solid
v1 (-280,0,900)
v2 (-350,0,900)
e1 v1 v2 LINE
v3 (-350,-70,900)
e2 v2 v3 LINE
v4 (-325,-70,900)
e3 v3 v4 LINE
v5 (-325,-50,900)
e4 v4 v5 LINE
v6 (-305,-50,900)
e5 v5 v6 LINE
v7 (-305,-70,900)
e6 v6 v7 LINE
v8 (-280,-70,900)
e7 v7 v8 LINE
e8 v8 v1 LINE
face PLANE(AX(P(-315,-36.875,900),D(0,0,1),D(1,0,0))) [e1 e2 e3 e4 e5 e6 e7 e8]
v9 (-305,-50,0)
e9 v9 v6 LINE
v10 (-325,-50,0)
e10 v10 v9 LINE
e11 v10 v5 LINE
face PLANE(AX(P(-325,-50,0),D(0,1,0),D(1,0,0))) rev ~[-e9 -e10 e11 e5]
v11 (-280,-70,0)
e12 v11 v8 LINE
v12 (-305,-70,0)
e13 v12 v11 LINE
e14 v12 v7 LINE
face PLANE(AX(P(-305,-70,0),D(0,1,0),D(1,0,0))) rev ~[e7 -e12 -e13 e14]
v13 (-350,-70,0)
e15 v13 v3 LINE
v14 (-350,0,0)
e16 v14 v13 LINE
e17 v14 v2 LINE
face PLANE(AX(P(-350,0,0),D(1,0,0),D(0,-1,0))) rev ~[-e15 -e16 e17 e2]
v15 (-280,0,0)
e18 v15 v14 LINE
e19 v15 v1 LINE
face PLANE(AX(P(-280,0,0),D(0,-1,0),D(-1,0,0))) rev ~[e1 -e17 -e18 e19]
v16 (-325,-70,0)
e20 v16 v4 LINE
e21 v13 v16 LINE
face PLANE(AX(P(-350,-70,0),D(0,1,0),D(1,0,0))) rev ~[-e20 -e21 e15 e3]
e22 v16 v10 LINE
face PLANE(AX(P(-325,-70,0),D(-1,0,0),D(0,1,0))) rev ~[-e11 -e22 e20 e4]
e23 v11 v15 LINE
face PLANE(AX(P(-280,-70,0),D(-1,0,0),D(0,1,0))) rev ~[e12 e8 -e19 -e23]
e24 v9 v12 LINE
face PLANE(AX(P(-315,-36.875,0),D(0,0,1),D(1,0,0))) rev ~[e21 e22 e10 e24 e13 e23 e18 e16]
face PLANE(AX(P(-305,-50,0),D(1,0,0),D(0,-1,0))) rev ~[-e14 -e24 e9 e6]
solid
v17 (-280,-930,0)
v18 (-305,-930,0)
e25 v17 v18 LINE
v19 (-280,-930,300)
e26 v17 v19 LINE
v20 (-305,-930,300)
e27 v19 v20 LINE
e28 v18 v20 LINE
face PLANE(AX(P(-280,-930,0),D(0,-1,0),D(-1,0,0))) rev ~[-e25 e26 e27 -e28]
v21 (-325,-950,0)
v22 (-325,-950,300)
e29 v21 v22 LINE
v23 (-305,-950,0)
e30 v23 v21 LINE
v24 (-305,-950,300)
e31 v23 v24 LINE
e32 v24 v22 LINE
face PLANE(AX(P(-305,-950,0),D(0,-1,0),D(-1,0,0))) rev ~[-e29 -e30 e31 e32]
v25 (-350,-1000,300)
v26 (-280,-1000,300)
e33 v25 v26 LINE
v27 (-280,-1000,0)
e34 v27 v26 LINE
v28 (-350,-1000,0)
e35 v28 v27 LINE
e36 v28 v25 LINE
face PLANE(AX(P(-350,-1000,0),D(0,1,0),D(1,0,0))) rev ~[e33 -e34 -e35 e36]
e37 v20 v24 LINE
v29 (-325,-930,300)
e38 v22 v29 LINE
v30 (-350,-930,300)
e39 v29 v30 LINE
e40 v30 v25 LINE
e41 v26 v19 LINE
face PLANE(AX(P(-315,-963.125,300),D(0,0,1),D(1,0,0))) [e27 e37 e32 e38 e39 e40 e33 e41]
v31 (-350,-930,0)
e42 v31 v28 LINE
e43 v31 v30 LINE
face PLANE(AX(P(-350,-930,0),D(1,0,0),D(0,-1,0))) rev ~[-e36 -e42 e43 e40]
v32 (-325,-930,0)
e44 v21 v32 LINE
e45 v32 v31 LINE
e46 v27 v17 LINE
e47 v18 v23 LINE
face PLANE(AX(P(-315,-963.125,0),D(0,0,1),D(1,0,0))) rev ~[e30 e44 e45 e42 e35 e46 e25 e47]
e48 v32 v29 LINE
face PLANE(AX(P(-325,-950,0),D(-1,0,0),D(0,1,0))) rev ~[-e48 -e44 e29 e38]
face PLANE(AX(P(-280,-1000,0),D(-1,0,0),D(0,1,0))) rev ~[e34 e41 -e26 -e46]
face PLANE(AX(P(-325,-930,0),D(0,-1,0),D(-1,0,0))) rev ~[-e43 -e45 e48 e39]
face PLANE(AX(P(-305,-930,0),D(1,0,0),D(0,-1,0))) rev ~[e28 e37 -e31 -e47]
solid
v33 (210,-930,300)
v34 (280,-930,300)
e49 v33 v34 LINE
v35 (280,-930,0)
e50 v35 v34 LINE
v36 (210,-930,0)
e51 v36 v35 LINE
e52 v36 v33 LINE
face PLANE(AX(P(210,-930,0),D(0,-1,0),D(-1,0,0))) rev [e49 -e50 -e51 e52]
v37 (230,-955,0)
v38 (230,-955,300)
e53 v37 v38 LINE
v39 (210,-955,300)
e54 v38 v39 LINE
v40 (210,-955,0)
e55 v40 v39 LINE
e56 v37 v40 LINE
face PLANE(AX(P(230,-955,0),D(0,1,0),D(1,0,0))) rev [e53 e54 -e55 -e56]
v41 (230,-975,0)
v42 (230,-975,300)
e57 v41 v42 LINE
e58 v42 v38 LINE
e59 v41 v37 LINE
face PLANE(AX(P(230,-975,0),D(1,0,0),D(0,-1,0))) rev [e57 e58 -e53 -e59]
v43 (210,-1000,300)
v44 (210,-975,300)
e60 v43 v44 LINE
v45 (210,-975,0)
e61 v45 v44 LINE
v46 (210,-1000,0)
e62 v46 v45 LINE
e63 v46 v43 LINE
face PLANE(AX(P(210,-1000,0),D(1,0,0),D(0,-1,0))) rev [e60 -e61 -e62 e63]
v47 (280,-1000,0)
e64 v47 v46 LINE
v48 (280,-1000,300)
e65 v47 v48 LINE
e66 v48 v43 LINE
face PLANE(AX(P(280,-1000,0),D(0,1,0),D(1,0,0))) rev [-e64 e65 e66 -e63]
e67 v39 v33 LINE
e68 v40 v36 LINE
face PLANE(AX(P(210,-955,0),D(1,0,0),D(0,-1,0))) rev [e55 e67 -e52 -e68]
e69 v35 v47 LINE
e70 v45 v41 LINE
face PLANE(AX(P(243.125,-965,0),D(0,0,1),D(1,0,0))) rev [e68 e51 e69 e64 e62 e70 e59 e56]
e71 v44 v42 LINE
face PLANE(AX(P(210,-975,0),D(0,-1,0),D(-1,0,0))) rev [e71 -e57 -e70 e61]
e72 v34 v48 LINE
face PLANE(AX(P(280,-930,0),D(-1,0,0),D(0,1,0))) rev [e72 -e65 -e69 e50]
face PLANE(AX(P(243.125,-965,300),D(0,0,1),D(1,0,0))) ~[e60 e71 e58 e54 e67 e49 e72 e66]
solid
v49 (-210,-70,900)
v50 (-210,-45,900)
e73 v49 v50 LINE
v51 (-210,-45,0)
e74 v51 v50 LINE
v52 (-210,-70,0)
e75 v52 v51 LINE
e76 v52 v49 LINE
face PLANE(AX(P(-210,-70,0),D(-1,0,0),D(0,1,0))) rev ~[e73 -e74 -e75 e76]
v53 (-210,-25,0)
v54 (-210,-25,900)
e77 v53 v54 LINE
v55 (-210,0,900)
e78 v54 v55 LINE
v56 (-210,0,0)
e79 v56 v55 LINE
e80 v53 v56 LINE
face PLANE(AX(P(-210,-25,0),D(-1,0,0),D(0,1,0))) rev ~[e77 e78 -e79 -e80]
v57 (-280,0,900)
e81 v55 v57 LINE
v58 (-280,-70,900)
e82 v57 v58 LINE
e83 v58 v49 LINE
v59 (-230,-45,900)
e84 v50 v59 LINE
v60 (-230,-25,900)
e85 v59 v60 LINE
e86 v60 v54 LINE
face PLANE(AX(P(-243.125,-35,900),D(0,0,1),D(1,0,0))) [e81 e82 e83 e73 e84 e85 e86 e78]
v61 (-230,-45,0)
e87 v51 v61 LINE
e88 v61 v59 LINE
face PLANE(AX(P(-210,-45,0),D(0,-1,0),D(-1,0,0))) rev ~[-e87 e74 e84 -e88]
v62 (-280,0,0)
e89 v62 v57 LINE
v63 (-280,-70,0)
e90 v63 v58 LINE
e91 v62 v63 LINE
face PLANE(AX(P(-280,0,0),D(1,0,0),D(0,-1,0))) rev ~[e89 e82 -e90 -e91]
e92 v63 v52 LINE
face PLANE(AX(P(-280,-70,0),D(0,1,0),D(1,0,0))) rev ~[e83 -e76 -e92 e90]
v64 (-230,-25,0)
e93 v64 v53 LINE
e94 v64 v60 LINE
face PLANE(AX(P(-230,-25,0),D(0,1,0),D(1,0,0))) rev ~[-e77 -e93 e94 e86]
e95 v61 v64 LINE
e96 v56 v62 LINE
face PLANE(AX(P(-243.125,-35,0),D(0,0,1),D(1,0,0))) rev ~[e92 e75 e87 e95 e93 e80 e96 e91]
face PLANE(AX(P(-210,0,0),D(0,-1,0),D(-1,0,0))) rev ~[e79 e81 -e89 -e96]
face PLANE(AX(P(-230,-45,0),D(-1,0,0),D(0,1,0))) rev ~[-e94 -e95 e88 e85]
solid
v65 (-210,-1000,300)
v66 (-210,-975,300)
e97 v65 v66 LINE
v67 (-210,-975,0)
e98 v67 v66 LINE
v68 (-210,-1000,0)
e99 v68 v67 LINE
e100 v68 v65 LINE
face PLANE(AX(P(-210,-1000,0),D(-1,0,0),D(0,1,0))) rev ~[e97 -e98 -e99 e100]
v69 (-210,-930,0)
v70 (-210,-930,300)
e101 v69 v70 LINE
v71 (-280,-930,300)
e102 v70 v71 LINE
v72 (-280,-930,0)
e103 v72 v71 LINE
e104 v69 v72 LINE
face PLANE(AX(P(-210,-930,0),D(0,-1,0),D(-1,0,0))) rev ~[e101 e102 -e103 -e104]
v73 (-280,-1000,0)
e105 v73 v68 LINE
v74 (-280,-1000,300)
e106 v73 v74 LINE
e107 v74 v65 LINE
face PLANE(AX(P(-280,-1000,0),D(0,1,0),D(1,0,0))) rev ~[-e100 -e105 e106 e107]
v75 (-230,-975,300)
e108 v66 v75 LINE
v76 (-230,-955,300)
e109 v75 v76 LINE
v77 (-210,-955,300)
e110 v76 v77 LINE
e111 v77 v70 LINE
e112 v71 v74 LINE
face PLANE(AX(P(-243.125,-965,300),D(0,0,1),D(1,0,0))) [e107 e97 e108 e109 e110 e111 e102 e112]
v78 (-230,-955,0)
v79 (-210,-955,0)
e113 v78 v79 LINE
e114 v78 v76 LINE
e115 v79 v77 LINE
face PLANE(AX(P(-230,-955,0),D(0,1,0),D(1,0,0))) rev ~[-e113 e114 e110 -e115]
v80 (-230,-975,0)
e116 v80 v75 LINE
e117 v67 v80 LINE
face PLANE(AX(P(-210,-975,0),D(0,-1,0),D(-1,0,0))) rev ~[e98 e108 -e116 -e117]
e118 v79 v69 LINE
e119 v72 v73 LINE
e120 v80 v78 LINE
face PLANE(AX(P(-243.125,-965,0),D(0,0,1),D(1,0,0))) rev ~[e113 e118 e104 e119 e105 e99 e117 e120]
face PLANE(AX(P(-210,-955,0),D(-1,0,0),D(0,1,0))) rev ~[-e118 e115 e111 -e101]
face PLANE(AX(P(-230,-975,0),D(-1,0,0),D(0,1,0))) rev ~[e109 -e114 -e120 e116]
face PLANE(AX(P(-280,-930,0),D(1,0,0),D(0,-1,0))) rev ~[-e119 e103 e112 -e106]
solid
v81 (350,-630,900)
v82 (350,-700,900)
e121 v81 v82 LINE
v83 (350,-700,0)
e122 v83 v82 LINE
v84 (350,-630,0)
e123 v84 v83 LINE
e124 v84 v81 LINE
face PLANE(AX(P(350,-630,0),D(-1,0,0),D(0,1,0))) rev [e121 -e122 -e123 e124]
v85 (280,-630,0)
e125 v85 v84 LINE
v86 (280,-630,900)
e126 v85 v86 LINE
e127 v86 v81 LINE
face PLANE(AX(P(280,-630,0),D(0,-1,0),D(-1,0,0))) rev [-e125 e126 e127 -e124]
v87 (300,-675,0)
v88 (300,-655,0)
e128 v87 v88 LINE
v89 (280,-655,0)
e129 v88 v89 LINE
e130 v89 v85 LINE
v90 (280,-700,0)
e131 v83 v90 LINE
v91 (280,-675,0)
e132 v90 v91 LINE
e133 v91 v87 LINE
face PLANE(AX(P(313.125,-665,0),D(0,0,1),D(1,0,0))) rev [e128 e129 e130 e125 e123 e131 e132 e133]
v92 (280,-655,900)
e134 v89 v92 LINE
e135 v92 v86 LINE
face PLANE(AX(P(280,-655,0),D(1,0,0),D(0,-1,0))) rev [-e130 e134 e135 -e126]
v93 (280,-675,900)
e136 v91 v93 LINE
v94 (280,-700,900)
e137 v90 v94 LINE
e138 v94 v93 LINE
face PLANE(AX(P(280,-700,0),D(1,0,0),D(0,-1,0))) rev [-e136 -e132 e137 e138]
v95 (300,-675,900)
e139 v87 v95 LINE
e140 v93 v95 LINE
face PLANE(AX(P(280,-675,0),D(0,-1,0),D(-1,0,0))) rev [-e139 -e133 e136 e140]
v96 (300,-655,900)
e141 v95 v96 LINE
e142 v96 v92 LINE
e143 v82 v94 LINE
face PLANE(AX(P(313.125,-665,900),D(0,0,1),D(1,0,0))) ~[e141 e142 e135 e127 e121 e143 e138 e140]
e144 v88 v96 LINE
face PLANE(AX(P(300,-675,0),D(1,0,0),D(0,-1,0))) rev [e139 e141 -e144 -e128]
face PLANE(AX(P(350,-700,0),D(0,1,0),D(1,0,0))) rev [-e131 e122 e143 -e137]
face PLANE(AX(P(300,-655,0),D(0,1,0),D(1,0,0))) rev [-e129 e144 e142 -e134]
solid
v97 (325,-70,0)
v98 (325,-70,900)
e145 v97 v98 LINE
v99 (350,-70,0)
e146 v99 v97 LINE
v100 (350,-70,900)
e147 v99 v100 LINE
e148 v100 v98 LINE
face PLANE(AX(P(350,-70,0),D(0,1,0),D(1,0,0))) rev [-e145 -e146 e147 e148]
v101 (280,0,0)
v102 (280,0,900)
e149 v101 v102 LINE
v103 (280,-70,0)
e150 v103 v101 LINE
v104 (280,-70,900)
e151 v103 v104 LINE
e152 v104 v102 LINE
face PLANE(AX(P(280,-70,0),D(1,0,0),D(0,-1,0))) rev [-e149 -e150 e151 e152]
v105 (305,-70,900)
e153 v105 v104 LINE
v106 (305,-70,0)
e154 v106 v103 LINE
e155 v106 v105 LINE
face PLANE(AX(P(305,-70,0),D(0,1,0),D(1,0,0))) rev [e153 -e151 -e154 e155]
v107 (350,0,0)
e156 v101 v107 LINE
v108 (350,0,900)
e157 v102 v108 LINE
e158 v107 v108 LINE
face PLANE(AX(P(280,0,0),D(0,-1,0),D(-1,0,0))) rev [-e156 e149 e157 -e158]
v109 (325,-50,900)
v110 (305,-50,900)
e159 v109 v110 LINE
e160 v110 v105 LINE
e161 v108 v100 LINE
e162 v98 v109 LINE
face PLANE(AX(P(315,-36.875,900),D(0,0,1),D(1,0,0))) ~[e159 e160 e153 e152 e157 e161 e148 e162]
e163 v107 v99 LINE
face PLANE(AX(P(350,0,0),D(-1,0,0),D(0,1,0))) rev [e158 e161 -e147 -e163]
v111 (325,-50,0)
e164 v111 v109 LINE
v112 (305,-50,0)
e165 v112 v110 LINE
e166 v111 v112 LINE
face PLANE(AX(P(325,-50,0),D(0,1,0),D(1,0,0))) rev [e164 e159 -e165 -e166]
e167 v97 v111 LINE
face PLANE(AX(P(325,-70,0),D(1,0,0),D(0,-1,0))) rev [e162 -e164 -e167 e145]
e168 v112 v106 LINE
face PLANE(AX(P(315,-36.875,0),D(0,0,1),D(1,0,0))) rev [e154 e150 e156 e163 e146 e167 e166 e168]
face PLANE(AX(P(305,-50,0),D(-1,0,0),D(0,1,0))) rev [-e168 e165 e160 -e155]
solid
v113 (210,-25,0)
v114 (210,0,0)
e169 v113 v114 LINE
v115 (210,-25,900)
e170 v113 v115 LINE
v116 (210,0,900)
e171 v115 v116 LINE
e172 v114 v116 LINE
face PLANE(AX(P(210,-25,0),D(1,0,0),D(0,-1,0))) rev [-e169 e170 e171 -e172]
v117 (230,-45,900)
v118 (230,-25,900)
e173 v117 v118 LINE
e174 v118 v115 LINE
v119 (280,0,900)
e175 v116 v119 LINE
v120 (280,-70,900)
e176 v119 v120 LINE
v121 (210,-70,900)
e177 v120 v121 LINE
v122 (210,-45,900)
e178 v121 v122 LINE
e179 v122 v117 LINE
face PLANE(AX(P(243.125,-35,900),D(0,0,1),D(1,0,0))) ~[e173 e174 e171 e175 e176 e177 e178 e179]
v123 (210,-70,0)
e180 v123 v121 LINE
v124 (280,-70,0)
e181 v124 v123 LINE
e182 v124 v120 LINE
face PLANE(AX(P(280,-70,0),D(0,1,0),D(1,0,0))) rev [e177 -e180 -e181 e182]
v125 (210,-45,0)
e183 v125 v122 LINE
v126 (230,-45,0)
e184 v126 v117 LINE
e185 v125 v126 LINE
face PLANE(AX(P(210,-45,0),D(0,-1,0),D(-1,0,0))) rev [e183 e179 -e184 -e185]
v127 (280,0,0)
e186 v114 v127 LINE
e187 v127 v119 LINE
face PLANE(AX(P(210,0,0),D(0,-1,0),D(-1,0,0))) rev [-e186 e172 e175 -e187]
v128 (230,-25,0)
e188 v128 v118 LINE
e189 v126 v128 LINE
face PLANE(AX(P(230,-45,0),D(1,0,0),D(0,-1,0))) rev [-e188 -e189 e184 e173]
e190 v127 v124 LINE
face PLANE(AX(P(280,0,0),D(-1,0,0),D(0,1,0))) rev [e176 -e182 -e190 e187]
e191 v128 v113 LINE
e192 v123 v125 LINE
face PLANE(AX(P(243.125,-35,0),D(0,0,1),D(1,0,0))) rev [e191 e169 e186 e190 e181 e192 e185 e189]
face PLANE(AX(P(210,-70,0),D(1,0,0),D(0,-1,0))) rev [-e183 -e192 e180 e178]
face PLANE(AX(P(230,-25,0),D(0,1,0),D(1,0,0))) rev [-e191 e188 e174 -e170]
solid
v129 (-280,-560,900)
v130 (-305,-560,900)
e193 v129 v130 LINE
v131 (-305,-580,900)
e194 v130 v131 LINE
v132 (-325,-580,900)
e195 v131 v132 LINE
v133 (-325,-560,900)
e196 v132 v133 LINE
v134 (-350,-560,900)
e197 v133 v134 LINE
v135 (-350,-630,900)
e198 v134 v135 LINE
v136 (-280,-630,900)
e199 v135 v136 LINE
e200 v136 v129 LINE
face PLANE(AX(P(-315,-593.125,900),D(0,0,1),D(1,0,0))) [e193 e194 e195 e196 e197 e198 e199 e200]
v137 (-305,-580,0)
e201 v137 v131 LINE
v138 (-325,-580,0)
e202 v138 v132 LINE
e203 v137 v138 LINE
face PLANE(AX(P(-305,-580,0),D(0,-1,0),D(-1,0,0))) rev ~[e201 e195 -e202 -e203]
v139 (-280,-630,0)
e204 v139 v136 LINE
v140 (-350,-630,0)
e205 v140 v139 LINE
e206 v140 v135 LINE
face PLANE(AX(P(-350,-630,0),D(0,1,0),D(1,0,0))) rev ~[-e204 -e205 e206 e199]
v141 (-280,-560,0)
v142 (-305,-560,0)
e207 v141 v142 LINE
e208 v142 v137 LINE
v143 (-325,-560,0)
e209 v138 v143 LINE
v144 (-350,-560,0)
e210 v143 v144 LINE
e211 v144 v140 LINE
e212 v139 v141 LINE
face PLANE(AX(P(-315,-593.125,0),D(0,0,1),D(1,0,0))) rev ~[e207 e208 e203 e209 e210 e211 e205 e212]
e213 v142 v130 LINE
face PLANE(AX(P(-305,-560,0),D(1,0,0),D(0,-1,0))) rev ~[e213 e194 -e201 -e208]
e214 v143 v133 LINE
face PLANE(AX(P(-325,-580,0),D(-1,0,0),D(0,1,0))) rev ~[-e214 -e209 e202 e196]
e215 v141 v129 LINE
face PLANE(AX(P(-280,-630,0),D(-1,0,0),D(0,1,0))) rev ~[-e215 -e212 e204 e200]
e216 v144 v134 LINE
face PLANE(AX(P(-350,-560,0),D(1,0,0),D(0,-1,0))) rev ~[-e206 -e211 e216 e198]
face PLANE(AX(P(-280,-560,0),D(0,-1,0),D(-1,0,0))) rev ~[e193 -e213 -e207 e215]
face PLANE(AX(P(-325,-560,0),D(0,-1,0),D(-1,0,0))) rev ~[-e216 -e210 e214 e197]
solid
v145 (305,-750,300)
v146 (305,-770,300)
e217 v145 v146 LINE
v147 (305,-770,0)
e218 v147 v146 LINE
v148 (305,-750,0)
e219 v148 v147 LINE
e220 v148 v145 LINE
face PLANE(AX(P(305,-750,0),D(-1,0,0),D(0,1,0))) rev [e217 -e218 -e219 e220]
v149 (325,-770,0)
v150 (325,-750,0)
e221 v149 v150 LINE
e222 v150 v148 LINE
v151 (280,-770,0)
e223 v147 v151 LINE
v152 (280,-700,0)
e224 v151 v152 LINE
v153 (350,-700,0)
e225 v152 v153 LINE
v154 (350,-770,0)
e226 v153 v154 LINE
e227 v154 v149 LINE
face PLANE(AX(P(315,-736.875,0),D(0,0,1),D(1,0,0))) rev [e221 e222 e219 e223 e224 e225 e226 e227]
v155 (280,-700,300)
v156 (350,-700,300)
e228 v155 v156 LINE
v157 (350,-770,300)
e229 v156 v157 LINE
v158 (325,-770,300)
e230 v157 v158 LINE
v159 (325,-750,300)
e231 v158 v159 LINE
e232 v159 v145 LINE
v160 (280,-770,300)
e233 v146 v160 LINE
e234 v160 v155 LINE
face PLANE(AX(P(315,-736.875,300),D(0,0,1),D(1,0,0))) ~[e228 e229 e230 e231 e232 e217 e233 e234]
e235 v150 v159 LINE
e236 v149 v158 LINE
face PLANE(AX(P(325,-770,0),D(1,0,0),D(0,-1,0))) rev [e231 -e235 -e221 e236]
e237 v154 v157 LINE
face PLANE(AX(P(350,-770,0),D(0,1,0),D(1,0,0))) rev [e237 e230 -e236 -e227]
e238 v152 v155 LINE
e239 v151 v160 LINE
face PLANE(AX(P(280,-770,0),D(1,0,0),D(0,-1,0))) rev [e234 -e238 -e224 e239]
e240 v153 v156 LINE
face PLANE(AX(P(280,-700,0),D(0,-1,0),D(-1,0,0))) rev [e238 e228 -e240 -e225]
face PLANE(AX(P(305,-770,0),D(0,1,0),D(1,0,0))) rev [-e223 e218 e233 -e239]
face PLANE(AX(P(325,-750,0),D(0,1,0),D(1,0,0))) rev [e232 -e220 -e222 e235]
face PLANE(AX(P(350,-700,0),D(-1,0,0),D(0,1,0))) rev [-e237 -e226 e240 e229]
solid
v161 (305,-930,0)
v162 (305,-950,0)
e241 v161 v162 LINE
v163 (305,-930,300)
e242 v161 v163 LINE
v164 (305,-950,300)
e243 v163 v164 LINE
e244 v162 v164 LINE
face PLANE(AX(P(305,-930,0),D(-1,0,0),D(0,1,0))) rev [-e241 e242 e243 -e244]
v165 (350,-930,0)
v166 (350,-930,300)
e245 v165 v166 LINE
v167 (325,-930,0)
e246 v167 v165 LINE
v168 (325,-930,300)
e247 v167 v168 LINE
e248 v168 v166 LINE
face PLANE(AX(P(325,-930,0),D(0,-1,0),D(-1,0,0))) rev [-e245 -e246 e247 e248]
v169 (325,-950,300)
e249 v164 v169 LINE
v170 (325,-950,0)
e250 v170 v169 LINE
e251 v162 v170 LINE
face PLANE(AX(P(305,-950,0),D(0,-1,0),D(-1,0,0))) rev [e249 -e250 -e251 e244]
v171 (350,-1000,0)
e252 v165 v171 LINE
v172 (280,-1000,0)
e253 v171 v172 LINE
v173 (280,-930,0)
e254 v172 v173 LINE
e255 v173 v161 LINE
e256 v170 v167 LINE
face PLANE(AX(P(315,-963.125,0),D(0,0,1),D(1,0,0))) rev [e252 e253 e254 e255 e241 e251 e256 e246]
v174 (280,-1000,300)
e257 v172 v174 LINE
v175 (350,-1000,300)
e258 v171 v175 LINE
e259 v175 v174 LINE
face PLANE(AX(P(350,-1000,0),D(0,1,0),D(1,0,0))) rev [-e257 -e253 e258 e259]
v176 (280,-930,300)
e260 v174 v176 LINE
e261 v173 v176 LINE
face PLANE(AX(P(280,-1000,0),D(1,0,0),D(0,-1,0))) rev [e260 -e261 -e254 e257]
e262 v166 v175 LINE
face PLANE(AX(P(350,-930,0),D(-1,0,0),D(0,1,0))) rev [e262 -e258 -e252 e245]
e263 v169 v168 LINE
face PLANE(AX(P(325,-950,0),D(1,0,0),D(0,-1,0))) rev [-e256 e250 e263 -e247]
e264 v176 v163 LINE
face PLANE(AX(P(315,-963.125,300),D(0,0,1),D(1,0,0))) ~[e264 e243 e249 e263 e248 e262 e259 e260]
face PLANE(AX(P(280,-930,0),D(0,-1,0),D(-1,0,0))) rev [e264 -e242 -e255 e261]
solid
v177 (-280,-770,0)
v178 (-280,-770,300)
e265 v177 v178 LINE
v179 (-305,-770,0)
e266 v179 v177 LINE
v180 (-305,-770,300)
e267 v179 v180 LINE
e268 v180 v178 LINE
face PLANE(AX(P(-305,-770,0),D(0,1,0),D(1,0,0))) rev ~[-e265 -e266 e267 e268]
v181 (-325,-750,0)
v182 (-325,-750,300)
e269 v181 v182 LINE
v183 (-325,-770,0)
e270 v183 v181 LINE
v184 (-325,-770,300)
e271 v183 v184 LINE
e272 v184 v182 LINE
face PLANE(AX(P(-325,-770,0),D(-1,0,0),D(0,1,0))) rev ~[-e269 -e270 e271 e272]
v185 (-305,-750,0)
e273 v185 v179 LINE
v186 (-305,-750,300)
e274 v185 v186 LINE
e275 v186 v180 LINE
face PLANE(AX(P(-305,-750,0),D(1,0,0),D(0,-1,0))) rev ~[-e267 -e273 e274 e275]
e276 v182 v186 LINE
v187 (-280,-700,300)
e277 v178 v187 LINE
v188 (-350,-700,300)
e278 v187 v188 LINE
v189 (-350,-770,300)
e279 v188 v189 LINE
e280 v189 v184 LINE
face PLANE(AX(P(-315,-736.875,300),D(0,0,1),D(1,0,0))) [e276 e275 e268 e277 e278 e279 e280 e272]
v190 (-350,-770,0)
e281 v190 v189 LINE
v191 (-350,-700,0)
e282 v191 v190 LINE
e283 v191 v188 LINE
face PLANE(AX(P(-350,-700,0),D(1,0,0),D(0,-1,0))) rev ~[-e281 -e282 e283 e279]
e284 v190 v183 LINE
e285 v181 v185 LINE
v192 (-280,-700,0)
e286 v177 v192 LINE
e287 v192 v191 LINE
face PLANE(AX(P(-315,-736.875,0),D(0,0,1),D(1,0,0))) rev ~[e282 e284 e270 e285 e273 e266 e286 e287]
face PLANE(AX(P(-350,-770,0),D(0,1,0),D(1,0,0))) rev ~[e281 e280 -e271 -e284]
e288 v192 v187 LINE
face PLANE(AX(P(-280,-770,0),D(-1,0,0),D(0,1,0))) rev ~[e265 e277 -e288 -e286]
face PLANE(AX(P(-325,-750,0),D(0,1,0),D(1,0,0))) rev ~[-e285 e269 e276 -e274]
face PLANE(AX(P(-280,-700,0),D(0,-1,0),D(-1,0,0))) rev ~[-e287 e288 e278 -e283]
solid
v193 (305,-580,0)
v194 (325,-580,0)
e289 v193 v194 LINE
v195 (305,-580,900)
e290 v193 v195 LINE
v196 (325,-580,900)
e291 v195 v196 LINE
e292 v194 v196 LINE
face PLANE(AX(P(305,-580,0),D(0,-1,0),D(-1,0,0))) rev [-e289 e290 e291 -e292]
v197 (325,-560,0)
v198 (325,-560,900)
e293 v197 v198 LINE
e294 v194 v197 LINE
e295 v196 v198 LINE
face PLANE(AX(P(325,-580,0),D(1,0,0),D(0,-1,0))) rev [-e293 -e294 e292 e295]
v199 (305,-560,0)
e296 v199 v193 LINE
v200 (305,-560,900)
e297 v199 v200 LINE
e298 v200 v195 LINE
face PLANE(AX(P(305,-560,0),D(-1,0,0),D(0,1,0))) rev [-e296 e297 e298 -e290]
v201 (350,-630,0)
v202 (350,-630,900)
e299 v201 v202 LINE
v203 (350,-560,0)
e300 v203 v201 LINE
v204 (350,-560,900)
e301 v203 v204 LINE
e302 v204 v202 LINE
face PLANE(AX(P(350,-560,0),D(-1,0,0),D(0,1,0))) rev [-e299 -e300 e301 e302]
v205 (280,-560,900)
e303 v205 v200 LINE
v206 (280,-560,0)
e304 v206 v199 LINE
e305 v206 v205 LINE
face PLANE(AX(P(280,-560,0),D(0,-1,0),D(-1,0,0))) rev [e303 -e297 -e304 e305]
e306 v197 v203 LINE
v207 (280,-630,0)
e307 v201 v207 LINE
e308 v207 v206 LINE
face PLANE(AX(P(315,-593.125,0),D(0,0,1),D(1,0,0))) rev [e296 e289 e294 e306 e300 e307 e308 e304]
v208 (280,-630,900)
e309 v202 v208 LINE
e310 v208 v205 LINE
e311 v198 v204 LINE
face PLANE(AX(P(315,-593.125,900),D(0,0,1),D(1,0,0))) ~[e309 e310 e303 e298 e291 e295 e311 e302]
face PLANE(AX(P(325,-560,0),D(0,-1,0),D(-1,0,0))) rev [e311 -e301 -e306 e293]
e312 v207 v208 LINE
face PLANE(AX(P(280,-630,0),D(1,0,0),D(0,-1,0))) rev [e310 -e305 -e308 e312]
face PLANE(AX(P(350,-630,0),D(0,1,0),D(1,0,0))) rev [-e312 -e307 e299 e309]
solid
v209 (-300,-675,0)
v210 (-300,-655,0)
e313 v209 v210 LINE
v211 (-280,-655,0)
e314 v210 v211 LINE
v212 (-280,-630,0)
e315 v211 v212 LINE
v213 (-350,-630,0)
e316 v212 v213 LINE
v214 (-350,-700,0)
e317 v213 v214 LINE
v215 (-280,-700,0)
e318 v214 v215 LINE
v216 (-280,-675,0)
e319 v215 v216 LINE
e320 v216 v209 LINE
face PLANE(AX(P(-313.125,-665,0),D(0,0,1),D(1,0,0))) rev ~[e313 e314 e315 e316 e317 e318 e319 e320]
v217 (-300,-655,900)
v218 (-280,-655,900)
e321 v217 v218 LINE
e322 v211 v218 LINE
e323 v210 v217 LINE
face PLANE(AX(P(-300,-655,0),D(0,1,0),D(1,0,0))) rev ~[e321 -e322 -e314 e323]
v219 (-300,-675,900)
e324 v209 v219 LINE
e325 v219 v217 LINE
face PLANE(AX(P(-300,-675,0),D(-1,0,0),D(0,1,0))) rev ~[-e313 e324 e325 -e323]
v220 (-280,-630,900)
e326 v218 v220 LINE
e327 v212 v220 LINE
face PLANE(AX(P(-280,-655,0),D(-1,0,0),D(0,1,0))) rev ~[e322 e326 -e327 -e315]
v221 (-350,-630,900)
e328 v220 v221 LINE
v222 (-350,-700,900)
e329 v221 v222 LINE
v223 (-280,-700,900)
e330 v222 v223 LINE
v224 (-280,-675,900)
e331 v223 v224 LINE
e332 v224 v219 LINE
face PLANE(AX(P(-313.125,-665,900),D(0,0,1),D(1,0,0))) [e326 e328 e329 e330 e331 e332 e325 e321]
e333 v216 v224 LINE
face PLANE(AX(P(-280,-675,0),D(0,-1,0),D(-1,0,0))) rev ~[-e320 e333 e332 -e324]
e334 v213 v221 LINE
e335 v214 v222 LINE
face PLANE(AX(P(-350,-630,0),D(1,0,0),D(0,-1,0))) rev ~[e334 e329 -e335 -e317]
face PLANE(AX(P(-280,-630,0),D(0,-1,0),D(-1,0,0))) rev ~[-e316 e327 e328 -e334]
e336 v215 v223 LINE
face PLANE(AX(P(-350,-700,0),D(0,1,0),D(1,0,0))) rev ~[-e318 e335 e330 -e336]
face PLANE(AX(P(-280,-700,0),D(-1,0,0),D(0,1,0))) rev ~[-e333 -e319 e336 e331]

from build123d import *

# Parameters (mm, degrees)
F1_DEPTH = 900
F2_DEPTH = 900
F3_DEPTH = 900
F4_DEPTH = 900
F5_DEPTH = 300
F6_DEPTH = 300
F7_DEPTH = 300


with BuildPart() as f1:
    # F0 (on Top) → F1 (new body)
    with BuildSketch(Plane.XY):
        Polygon((-280, 0), (-350, 0), (-350, -70), (-325, -70), (-325, -50), (-305, -50), (-305, -70), (-280, -70), align=None)
    extrude(amount=F1_DEPTH)


with BuildPart() as f2:
    # F0 (on Top) → F2 (new body, through all)
    with BuildSketch(Plane.XY):
        Polygon((-210, 0), (-280, 0), (-280, -70), (-210, -70), (-210, -45), (-230, -45), (-230, -25), (-210, -25), align=None)
    extrude(amount=F2_DEPTH)


with BuildPart() as f3:
    # F0 (on Top) → F3 (new body, through all)
    with BuildSketch(Plane.XY):
        Polygon((-325, -630), (-350, -630), (-350, -700), (-280, -700), (-280, -630), (-305, -630), (-305, -650), (-325, -650), align=None)
    extrude(amount=F3_DEPTH)


with BuildPart() as f4:
    # F0 (on Top) → F4 (new body, through all)
    with BuildSketch(Plane.XY):
        Polygon((-280, -630), (-280, -700), (-210, -700), (-210, -675), (-230, -675), (-230, -655), (-210, -655), (-210, -630), align=None)
    extrude(amount=F4_DEPTH)


with BuildPart() as f5:
    # F0 (on Top) → F5 (new body)
    with BuildSketch(Plane.XY):
        Polygon((-280, -700), (-350, -700), (-350, -770), (-325, -770), (-325, -750), (-305, -750), (-305, -770), (-280, -770), align=None)
    extrude(amount=F5_DEPTH)


with BuildPart() as f6:
    # F0 (on Top) → F6 (new body, through all)
    with BuildSketch(Plane.XY):
        Polygon((-325, -930), (-350, -930), (-350, -1000), (-280, -1000), (-280, -930), (-305, -930), (-305, -950), (-325, -950), align=None)
    extrude(amount=F6_DEPTH)


with BuildPart() as f7:
    # F0 (on Top) → F7 (new body, through all)
    with BuildSketch(Plane.XY):
        Polygon((-280, -930), (-280, -1000), (-210, -1000), (-210, -975), (-230, -975), (-230, -955), (-210, -955), (-210, -930), align=None)
    extrude(amount=F7_DEPTH)


with BuildPart() as f8_1:
    # F8: instance of F1
    add(f1.part.mirror(Plane.YZ))


with BuildPart() as f8_2:
    # F8: instance of F2
    add(f2.part.mirror(Plane.YZ))


with BuildPart() as f8_3:
    # F8: instance of F3
    add(f3.part.mirror(Plane.YZ))


with BuildPart() as f8_4:
    # F8: instance of F4
    add(f4.part.mirror(Plane.YZ))


with BuildPart() as f8_5:
    # F8: instance of F5
    add(f5.part.mirror(Plane.YZ))


with BuildPart() as f8_6:
    # F8: instance of F6
    add(f6.part.mirror(Plane.YZ))


with BuildPart() as f8_7:
    # F8: instance of F7
    add(f7.part.mirror(Plane.YZ))


with BuildPart() as f3_1:
    # F9: moved
    add(f3.part.moved(Location((0, 70, 0))))


with BuildPart() as f8_3_1:
    # F9: moved
    add(f8_3.part.moved(Location((0, 70, 0))))


with BuildPart() as f4_1:
    # F10: moved
    add(f4.part.moved(Location((-70, 0, 0))))


with BuildPart() as f8_4_1:
    # F11: moved
    add(f8_4.part.moved(Location((70, 0, 0))))


solid = Compound([f1.part, f2.part, f5.part, f6.part, f7.part, f8_1.part, f8_2.part, f8_5.part, f8_6.part, f8_7.part, f3_1.part, f8_3_1.part, f4_1.part, f8_4_1.part])
